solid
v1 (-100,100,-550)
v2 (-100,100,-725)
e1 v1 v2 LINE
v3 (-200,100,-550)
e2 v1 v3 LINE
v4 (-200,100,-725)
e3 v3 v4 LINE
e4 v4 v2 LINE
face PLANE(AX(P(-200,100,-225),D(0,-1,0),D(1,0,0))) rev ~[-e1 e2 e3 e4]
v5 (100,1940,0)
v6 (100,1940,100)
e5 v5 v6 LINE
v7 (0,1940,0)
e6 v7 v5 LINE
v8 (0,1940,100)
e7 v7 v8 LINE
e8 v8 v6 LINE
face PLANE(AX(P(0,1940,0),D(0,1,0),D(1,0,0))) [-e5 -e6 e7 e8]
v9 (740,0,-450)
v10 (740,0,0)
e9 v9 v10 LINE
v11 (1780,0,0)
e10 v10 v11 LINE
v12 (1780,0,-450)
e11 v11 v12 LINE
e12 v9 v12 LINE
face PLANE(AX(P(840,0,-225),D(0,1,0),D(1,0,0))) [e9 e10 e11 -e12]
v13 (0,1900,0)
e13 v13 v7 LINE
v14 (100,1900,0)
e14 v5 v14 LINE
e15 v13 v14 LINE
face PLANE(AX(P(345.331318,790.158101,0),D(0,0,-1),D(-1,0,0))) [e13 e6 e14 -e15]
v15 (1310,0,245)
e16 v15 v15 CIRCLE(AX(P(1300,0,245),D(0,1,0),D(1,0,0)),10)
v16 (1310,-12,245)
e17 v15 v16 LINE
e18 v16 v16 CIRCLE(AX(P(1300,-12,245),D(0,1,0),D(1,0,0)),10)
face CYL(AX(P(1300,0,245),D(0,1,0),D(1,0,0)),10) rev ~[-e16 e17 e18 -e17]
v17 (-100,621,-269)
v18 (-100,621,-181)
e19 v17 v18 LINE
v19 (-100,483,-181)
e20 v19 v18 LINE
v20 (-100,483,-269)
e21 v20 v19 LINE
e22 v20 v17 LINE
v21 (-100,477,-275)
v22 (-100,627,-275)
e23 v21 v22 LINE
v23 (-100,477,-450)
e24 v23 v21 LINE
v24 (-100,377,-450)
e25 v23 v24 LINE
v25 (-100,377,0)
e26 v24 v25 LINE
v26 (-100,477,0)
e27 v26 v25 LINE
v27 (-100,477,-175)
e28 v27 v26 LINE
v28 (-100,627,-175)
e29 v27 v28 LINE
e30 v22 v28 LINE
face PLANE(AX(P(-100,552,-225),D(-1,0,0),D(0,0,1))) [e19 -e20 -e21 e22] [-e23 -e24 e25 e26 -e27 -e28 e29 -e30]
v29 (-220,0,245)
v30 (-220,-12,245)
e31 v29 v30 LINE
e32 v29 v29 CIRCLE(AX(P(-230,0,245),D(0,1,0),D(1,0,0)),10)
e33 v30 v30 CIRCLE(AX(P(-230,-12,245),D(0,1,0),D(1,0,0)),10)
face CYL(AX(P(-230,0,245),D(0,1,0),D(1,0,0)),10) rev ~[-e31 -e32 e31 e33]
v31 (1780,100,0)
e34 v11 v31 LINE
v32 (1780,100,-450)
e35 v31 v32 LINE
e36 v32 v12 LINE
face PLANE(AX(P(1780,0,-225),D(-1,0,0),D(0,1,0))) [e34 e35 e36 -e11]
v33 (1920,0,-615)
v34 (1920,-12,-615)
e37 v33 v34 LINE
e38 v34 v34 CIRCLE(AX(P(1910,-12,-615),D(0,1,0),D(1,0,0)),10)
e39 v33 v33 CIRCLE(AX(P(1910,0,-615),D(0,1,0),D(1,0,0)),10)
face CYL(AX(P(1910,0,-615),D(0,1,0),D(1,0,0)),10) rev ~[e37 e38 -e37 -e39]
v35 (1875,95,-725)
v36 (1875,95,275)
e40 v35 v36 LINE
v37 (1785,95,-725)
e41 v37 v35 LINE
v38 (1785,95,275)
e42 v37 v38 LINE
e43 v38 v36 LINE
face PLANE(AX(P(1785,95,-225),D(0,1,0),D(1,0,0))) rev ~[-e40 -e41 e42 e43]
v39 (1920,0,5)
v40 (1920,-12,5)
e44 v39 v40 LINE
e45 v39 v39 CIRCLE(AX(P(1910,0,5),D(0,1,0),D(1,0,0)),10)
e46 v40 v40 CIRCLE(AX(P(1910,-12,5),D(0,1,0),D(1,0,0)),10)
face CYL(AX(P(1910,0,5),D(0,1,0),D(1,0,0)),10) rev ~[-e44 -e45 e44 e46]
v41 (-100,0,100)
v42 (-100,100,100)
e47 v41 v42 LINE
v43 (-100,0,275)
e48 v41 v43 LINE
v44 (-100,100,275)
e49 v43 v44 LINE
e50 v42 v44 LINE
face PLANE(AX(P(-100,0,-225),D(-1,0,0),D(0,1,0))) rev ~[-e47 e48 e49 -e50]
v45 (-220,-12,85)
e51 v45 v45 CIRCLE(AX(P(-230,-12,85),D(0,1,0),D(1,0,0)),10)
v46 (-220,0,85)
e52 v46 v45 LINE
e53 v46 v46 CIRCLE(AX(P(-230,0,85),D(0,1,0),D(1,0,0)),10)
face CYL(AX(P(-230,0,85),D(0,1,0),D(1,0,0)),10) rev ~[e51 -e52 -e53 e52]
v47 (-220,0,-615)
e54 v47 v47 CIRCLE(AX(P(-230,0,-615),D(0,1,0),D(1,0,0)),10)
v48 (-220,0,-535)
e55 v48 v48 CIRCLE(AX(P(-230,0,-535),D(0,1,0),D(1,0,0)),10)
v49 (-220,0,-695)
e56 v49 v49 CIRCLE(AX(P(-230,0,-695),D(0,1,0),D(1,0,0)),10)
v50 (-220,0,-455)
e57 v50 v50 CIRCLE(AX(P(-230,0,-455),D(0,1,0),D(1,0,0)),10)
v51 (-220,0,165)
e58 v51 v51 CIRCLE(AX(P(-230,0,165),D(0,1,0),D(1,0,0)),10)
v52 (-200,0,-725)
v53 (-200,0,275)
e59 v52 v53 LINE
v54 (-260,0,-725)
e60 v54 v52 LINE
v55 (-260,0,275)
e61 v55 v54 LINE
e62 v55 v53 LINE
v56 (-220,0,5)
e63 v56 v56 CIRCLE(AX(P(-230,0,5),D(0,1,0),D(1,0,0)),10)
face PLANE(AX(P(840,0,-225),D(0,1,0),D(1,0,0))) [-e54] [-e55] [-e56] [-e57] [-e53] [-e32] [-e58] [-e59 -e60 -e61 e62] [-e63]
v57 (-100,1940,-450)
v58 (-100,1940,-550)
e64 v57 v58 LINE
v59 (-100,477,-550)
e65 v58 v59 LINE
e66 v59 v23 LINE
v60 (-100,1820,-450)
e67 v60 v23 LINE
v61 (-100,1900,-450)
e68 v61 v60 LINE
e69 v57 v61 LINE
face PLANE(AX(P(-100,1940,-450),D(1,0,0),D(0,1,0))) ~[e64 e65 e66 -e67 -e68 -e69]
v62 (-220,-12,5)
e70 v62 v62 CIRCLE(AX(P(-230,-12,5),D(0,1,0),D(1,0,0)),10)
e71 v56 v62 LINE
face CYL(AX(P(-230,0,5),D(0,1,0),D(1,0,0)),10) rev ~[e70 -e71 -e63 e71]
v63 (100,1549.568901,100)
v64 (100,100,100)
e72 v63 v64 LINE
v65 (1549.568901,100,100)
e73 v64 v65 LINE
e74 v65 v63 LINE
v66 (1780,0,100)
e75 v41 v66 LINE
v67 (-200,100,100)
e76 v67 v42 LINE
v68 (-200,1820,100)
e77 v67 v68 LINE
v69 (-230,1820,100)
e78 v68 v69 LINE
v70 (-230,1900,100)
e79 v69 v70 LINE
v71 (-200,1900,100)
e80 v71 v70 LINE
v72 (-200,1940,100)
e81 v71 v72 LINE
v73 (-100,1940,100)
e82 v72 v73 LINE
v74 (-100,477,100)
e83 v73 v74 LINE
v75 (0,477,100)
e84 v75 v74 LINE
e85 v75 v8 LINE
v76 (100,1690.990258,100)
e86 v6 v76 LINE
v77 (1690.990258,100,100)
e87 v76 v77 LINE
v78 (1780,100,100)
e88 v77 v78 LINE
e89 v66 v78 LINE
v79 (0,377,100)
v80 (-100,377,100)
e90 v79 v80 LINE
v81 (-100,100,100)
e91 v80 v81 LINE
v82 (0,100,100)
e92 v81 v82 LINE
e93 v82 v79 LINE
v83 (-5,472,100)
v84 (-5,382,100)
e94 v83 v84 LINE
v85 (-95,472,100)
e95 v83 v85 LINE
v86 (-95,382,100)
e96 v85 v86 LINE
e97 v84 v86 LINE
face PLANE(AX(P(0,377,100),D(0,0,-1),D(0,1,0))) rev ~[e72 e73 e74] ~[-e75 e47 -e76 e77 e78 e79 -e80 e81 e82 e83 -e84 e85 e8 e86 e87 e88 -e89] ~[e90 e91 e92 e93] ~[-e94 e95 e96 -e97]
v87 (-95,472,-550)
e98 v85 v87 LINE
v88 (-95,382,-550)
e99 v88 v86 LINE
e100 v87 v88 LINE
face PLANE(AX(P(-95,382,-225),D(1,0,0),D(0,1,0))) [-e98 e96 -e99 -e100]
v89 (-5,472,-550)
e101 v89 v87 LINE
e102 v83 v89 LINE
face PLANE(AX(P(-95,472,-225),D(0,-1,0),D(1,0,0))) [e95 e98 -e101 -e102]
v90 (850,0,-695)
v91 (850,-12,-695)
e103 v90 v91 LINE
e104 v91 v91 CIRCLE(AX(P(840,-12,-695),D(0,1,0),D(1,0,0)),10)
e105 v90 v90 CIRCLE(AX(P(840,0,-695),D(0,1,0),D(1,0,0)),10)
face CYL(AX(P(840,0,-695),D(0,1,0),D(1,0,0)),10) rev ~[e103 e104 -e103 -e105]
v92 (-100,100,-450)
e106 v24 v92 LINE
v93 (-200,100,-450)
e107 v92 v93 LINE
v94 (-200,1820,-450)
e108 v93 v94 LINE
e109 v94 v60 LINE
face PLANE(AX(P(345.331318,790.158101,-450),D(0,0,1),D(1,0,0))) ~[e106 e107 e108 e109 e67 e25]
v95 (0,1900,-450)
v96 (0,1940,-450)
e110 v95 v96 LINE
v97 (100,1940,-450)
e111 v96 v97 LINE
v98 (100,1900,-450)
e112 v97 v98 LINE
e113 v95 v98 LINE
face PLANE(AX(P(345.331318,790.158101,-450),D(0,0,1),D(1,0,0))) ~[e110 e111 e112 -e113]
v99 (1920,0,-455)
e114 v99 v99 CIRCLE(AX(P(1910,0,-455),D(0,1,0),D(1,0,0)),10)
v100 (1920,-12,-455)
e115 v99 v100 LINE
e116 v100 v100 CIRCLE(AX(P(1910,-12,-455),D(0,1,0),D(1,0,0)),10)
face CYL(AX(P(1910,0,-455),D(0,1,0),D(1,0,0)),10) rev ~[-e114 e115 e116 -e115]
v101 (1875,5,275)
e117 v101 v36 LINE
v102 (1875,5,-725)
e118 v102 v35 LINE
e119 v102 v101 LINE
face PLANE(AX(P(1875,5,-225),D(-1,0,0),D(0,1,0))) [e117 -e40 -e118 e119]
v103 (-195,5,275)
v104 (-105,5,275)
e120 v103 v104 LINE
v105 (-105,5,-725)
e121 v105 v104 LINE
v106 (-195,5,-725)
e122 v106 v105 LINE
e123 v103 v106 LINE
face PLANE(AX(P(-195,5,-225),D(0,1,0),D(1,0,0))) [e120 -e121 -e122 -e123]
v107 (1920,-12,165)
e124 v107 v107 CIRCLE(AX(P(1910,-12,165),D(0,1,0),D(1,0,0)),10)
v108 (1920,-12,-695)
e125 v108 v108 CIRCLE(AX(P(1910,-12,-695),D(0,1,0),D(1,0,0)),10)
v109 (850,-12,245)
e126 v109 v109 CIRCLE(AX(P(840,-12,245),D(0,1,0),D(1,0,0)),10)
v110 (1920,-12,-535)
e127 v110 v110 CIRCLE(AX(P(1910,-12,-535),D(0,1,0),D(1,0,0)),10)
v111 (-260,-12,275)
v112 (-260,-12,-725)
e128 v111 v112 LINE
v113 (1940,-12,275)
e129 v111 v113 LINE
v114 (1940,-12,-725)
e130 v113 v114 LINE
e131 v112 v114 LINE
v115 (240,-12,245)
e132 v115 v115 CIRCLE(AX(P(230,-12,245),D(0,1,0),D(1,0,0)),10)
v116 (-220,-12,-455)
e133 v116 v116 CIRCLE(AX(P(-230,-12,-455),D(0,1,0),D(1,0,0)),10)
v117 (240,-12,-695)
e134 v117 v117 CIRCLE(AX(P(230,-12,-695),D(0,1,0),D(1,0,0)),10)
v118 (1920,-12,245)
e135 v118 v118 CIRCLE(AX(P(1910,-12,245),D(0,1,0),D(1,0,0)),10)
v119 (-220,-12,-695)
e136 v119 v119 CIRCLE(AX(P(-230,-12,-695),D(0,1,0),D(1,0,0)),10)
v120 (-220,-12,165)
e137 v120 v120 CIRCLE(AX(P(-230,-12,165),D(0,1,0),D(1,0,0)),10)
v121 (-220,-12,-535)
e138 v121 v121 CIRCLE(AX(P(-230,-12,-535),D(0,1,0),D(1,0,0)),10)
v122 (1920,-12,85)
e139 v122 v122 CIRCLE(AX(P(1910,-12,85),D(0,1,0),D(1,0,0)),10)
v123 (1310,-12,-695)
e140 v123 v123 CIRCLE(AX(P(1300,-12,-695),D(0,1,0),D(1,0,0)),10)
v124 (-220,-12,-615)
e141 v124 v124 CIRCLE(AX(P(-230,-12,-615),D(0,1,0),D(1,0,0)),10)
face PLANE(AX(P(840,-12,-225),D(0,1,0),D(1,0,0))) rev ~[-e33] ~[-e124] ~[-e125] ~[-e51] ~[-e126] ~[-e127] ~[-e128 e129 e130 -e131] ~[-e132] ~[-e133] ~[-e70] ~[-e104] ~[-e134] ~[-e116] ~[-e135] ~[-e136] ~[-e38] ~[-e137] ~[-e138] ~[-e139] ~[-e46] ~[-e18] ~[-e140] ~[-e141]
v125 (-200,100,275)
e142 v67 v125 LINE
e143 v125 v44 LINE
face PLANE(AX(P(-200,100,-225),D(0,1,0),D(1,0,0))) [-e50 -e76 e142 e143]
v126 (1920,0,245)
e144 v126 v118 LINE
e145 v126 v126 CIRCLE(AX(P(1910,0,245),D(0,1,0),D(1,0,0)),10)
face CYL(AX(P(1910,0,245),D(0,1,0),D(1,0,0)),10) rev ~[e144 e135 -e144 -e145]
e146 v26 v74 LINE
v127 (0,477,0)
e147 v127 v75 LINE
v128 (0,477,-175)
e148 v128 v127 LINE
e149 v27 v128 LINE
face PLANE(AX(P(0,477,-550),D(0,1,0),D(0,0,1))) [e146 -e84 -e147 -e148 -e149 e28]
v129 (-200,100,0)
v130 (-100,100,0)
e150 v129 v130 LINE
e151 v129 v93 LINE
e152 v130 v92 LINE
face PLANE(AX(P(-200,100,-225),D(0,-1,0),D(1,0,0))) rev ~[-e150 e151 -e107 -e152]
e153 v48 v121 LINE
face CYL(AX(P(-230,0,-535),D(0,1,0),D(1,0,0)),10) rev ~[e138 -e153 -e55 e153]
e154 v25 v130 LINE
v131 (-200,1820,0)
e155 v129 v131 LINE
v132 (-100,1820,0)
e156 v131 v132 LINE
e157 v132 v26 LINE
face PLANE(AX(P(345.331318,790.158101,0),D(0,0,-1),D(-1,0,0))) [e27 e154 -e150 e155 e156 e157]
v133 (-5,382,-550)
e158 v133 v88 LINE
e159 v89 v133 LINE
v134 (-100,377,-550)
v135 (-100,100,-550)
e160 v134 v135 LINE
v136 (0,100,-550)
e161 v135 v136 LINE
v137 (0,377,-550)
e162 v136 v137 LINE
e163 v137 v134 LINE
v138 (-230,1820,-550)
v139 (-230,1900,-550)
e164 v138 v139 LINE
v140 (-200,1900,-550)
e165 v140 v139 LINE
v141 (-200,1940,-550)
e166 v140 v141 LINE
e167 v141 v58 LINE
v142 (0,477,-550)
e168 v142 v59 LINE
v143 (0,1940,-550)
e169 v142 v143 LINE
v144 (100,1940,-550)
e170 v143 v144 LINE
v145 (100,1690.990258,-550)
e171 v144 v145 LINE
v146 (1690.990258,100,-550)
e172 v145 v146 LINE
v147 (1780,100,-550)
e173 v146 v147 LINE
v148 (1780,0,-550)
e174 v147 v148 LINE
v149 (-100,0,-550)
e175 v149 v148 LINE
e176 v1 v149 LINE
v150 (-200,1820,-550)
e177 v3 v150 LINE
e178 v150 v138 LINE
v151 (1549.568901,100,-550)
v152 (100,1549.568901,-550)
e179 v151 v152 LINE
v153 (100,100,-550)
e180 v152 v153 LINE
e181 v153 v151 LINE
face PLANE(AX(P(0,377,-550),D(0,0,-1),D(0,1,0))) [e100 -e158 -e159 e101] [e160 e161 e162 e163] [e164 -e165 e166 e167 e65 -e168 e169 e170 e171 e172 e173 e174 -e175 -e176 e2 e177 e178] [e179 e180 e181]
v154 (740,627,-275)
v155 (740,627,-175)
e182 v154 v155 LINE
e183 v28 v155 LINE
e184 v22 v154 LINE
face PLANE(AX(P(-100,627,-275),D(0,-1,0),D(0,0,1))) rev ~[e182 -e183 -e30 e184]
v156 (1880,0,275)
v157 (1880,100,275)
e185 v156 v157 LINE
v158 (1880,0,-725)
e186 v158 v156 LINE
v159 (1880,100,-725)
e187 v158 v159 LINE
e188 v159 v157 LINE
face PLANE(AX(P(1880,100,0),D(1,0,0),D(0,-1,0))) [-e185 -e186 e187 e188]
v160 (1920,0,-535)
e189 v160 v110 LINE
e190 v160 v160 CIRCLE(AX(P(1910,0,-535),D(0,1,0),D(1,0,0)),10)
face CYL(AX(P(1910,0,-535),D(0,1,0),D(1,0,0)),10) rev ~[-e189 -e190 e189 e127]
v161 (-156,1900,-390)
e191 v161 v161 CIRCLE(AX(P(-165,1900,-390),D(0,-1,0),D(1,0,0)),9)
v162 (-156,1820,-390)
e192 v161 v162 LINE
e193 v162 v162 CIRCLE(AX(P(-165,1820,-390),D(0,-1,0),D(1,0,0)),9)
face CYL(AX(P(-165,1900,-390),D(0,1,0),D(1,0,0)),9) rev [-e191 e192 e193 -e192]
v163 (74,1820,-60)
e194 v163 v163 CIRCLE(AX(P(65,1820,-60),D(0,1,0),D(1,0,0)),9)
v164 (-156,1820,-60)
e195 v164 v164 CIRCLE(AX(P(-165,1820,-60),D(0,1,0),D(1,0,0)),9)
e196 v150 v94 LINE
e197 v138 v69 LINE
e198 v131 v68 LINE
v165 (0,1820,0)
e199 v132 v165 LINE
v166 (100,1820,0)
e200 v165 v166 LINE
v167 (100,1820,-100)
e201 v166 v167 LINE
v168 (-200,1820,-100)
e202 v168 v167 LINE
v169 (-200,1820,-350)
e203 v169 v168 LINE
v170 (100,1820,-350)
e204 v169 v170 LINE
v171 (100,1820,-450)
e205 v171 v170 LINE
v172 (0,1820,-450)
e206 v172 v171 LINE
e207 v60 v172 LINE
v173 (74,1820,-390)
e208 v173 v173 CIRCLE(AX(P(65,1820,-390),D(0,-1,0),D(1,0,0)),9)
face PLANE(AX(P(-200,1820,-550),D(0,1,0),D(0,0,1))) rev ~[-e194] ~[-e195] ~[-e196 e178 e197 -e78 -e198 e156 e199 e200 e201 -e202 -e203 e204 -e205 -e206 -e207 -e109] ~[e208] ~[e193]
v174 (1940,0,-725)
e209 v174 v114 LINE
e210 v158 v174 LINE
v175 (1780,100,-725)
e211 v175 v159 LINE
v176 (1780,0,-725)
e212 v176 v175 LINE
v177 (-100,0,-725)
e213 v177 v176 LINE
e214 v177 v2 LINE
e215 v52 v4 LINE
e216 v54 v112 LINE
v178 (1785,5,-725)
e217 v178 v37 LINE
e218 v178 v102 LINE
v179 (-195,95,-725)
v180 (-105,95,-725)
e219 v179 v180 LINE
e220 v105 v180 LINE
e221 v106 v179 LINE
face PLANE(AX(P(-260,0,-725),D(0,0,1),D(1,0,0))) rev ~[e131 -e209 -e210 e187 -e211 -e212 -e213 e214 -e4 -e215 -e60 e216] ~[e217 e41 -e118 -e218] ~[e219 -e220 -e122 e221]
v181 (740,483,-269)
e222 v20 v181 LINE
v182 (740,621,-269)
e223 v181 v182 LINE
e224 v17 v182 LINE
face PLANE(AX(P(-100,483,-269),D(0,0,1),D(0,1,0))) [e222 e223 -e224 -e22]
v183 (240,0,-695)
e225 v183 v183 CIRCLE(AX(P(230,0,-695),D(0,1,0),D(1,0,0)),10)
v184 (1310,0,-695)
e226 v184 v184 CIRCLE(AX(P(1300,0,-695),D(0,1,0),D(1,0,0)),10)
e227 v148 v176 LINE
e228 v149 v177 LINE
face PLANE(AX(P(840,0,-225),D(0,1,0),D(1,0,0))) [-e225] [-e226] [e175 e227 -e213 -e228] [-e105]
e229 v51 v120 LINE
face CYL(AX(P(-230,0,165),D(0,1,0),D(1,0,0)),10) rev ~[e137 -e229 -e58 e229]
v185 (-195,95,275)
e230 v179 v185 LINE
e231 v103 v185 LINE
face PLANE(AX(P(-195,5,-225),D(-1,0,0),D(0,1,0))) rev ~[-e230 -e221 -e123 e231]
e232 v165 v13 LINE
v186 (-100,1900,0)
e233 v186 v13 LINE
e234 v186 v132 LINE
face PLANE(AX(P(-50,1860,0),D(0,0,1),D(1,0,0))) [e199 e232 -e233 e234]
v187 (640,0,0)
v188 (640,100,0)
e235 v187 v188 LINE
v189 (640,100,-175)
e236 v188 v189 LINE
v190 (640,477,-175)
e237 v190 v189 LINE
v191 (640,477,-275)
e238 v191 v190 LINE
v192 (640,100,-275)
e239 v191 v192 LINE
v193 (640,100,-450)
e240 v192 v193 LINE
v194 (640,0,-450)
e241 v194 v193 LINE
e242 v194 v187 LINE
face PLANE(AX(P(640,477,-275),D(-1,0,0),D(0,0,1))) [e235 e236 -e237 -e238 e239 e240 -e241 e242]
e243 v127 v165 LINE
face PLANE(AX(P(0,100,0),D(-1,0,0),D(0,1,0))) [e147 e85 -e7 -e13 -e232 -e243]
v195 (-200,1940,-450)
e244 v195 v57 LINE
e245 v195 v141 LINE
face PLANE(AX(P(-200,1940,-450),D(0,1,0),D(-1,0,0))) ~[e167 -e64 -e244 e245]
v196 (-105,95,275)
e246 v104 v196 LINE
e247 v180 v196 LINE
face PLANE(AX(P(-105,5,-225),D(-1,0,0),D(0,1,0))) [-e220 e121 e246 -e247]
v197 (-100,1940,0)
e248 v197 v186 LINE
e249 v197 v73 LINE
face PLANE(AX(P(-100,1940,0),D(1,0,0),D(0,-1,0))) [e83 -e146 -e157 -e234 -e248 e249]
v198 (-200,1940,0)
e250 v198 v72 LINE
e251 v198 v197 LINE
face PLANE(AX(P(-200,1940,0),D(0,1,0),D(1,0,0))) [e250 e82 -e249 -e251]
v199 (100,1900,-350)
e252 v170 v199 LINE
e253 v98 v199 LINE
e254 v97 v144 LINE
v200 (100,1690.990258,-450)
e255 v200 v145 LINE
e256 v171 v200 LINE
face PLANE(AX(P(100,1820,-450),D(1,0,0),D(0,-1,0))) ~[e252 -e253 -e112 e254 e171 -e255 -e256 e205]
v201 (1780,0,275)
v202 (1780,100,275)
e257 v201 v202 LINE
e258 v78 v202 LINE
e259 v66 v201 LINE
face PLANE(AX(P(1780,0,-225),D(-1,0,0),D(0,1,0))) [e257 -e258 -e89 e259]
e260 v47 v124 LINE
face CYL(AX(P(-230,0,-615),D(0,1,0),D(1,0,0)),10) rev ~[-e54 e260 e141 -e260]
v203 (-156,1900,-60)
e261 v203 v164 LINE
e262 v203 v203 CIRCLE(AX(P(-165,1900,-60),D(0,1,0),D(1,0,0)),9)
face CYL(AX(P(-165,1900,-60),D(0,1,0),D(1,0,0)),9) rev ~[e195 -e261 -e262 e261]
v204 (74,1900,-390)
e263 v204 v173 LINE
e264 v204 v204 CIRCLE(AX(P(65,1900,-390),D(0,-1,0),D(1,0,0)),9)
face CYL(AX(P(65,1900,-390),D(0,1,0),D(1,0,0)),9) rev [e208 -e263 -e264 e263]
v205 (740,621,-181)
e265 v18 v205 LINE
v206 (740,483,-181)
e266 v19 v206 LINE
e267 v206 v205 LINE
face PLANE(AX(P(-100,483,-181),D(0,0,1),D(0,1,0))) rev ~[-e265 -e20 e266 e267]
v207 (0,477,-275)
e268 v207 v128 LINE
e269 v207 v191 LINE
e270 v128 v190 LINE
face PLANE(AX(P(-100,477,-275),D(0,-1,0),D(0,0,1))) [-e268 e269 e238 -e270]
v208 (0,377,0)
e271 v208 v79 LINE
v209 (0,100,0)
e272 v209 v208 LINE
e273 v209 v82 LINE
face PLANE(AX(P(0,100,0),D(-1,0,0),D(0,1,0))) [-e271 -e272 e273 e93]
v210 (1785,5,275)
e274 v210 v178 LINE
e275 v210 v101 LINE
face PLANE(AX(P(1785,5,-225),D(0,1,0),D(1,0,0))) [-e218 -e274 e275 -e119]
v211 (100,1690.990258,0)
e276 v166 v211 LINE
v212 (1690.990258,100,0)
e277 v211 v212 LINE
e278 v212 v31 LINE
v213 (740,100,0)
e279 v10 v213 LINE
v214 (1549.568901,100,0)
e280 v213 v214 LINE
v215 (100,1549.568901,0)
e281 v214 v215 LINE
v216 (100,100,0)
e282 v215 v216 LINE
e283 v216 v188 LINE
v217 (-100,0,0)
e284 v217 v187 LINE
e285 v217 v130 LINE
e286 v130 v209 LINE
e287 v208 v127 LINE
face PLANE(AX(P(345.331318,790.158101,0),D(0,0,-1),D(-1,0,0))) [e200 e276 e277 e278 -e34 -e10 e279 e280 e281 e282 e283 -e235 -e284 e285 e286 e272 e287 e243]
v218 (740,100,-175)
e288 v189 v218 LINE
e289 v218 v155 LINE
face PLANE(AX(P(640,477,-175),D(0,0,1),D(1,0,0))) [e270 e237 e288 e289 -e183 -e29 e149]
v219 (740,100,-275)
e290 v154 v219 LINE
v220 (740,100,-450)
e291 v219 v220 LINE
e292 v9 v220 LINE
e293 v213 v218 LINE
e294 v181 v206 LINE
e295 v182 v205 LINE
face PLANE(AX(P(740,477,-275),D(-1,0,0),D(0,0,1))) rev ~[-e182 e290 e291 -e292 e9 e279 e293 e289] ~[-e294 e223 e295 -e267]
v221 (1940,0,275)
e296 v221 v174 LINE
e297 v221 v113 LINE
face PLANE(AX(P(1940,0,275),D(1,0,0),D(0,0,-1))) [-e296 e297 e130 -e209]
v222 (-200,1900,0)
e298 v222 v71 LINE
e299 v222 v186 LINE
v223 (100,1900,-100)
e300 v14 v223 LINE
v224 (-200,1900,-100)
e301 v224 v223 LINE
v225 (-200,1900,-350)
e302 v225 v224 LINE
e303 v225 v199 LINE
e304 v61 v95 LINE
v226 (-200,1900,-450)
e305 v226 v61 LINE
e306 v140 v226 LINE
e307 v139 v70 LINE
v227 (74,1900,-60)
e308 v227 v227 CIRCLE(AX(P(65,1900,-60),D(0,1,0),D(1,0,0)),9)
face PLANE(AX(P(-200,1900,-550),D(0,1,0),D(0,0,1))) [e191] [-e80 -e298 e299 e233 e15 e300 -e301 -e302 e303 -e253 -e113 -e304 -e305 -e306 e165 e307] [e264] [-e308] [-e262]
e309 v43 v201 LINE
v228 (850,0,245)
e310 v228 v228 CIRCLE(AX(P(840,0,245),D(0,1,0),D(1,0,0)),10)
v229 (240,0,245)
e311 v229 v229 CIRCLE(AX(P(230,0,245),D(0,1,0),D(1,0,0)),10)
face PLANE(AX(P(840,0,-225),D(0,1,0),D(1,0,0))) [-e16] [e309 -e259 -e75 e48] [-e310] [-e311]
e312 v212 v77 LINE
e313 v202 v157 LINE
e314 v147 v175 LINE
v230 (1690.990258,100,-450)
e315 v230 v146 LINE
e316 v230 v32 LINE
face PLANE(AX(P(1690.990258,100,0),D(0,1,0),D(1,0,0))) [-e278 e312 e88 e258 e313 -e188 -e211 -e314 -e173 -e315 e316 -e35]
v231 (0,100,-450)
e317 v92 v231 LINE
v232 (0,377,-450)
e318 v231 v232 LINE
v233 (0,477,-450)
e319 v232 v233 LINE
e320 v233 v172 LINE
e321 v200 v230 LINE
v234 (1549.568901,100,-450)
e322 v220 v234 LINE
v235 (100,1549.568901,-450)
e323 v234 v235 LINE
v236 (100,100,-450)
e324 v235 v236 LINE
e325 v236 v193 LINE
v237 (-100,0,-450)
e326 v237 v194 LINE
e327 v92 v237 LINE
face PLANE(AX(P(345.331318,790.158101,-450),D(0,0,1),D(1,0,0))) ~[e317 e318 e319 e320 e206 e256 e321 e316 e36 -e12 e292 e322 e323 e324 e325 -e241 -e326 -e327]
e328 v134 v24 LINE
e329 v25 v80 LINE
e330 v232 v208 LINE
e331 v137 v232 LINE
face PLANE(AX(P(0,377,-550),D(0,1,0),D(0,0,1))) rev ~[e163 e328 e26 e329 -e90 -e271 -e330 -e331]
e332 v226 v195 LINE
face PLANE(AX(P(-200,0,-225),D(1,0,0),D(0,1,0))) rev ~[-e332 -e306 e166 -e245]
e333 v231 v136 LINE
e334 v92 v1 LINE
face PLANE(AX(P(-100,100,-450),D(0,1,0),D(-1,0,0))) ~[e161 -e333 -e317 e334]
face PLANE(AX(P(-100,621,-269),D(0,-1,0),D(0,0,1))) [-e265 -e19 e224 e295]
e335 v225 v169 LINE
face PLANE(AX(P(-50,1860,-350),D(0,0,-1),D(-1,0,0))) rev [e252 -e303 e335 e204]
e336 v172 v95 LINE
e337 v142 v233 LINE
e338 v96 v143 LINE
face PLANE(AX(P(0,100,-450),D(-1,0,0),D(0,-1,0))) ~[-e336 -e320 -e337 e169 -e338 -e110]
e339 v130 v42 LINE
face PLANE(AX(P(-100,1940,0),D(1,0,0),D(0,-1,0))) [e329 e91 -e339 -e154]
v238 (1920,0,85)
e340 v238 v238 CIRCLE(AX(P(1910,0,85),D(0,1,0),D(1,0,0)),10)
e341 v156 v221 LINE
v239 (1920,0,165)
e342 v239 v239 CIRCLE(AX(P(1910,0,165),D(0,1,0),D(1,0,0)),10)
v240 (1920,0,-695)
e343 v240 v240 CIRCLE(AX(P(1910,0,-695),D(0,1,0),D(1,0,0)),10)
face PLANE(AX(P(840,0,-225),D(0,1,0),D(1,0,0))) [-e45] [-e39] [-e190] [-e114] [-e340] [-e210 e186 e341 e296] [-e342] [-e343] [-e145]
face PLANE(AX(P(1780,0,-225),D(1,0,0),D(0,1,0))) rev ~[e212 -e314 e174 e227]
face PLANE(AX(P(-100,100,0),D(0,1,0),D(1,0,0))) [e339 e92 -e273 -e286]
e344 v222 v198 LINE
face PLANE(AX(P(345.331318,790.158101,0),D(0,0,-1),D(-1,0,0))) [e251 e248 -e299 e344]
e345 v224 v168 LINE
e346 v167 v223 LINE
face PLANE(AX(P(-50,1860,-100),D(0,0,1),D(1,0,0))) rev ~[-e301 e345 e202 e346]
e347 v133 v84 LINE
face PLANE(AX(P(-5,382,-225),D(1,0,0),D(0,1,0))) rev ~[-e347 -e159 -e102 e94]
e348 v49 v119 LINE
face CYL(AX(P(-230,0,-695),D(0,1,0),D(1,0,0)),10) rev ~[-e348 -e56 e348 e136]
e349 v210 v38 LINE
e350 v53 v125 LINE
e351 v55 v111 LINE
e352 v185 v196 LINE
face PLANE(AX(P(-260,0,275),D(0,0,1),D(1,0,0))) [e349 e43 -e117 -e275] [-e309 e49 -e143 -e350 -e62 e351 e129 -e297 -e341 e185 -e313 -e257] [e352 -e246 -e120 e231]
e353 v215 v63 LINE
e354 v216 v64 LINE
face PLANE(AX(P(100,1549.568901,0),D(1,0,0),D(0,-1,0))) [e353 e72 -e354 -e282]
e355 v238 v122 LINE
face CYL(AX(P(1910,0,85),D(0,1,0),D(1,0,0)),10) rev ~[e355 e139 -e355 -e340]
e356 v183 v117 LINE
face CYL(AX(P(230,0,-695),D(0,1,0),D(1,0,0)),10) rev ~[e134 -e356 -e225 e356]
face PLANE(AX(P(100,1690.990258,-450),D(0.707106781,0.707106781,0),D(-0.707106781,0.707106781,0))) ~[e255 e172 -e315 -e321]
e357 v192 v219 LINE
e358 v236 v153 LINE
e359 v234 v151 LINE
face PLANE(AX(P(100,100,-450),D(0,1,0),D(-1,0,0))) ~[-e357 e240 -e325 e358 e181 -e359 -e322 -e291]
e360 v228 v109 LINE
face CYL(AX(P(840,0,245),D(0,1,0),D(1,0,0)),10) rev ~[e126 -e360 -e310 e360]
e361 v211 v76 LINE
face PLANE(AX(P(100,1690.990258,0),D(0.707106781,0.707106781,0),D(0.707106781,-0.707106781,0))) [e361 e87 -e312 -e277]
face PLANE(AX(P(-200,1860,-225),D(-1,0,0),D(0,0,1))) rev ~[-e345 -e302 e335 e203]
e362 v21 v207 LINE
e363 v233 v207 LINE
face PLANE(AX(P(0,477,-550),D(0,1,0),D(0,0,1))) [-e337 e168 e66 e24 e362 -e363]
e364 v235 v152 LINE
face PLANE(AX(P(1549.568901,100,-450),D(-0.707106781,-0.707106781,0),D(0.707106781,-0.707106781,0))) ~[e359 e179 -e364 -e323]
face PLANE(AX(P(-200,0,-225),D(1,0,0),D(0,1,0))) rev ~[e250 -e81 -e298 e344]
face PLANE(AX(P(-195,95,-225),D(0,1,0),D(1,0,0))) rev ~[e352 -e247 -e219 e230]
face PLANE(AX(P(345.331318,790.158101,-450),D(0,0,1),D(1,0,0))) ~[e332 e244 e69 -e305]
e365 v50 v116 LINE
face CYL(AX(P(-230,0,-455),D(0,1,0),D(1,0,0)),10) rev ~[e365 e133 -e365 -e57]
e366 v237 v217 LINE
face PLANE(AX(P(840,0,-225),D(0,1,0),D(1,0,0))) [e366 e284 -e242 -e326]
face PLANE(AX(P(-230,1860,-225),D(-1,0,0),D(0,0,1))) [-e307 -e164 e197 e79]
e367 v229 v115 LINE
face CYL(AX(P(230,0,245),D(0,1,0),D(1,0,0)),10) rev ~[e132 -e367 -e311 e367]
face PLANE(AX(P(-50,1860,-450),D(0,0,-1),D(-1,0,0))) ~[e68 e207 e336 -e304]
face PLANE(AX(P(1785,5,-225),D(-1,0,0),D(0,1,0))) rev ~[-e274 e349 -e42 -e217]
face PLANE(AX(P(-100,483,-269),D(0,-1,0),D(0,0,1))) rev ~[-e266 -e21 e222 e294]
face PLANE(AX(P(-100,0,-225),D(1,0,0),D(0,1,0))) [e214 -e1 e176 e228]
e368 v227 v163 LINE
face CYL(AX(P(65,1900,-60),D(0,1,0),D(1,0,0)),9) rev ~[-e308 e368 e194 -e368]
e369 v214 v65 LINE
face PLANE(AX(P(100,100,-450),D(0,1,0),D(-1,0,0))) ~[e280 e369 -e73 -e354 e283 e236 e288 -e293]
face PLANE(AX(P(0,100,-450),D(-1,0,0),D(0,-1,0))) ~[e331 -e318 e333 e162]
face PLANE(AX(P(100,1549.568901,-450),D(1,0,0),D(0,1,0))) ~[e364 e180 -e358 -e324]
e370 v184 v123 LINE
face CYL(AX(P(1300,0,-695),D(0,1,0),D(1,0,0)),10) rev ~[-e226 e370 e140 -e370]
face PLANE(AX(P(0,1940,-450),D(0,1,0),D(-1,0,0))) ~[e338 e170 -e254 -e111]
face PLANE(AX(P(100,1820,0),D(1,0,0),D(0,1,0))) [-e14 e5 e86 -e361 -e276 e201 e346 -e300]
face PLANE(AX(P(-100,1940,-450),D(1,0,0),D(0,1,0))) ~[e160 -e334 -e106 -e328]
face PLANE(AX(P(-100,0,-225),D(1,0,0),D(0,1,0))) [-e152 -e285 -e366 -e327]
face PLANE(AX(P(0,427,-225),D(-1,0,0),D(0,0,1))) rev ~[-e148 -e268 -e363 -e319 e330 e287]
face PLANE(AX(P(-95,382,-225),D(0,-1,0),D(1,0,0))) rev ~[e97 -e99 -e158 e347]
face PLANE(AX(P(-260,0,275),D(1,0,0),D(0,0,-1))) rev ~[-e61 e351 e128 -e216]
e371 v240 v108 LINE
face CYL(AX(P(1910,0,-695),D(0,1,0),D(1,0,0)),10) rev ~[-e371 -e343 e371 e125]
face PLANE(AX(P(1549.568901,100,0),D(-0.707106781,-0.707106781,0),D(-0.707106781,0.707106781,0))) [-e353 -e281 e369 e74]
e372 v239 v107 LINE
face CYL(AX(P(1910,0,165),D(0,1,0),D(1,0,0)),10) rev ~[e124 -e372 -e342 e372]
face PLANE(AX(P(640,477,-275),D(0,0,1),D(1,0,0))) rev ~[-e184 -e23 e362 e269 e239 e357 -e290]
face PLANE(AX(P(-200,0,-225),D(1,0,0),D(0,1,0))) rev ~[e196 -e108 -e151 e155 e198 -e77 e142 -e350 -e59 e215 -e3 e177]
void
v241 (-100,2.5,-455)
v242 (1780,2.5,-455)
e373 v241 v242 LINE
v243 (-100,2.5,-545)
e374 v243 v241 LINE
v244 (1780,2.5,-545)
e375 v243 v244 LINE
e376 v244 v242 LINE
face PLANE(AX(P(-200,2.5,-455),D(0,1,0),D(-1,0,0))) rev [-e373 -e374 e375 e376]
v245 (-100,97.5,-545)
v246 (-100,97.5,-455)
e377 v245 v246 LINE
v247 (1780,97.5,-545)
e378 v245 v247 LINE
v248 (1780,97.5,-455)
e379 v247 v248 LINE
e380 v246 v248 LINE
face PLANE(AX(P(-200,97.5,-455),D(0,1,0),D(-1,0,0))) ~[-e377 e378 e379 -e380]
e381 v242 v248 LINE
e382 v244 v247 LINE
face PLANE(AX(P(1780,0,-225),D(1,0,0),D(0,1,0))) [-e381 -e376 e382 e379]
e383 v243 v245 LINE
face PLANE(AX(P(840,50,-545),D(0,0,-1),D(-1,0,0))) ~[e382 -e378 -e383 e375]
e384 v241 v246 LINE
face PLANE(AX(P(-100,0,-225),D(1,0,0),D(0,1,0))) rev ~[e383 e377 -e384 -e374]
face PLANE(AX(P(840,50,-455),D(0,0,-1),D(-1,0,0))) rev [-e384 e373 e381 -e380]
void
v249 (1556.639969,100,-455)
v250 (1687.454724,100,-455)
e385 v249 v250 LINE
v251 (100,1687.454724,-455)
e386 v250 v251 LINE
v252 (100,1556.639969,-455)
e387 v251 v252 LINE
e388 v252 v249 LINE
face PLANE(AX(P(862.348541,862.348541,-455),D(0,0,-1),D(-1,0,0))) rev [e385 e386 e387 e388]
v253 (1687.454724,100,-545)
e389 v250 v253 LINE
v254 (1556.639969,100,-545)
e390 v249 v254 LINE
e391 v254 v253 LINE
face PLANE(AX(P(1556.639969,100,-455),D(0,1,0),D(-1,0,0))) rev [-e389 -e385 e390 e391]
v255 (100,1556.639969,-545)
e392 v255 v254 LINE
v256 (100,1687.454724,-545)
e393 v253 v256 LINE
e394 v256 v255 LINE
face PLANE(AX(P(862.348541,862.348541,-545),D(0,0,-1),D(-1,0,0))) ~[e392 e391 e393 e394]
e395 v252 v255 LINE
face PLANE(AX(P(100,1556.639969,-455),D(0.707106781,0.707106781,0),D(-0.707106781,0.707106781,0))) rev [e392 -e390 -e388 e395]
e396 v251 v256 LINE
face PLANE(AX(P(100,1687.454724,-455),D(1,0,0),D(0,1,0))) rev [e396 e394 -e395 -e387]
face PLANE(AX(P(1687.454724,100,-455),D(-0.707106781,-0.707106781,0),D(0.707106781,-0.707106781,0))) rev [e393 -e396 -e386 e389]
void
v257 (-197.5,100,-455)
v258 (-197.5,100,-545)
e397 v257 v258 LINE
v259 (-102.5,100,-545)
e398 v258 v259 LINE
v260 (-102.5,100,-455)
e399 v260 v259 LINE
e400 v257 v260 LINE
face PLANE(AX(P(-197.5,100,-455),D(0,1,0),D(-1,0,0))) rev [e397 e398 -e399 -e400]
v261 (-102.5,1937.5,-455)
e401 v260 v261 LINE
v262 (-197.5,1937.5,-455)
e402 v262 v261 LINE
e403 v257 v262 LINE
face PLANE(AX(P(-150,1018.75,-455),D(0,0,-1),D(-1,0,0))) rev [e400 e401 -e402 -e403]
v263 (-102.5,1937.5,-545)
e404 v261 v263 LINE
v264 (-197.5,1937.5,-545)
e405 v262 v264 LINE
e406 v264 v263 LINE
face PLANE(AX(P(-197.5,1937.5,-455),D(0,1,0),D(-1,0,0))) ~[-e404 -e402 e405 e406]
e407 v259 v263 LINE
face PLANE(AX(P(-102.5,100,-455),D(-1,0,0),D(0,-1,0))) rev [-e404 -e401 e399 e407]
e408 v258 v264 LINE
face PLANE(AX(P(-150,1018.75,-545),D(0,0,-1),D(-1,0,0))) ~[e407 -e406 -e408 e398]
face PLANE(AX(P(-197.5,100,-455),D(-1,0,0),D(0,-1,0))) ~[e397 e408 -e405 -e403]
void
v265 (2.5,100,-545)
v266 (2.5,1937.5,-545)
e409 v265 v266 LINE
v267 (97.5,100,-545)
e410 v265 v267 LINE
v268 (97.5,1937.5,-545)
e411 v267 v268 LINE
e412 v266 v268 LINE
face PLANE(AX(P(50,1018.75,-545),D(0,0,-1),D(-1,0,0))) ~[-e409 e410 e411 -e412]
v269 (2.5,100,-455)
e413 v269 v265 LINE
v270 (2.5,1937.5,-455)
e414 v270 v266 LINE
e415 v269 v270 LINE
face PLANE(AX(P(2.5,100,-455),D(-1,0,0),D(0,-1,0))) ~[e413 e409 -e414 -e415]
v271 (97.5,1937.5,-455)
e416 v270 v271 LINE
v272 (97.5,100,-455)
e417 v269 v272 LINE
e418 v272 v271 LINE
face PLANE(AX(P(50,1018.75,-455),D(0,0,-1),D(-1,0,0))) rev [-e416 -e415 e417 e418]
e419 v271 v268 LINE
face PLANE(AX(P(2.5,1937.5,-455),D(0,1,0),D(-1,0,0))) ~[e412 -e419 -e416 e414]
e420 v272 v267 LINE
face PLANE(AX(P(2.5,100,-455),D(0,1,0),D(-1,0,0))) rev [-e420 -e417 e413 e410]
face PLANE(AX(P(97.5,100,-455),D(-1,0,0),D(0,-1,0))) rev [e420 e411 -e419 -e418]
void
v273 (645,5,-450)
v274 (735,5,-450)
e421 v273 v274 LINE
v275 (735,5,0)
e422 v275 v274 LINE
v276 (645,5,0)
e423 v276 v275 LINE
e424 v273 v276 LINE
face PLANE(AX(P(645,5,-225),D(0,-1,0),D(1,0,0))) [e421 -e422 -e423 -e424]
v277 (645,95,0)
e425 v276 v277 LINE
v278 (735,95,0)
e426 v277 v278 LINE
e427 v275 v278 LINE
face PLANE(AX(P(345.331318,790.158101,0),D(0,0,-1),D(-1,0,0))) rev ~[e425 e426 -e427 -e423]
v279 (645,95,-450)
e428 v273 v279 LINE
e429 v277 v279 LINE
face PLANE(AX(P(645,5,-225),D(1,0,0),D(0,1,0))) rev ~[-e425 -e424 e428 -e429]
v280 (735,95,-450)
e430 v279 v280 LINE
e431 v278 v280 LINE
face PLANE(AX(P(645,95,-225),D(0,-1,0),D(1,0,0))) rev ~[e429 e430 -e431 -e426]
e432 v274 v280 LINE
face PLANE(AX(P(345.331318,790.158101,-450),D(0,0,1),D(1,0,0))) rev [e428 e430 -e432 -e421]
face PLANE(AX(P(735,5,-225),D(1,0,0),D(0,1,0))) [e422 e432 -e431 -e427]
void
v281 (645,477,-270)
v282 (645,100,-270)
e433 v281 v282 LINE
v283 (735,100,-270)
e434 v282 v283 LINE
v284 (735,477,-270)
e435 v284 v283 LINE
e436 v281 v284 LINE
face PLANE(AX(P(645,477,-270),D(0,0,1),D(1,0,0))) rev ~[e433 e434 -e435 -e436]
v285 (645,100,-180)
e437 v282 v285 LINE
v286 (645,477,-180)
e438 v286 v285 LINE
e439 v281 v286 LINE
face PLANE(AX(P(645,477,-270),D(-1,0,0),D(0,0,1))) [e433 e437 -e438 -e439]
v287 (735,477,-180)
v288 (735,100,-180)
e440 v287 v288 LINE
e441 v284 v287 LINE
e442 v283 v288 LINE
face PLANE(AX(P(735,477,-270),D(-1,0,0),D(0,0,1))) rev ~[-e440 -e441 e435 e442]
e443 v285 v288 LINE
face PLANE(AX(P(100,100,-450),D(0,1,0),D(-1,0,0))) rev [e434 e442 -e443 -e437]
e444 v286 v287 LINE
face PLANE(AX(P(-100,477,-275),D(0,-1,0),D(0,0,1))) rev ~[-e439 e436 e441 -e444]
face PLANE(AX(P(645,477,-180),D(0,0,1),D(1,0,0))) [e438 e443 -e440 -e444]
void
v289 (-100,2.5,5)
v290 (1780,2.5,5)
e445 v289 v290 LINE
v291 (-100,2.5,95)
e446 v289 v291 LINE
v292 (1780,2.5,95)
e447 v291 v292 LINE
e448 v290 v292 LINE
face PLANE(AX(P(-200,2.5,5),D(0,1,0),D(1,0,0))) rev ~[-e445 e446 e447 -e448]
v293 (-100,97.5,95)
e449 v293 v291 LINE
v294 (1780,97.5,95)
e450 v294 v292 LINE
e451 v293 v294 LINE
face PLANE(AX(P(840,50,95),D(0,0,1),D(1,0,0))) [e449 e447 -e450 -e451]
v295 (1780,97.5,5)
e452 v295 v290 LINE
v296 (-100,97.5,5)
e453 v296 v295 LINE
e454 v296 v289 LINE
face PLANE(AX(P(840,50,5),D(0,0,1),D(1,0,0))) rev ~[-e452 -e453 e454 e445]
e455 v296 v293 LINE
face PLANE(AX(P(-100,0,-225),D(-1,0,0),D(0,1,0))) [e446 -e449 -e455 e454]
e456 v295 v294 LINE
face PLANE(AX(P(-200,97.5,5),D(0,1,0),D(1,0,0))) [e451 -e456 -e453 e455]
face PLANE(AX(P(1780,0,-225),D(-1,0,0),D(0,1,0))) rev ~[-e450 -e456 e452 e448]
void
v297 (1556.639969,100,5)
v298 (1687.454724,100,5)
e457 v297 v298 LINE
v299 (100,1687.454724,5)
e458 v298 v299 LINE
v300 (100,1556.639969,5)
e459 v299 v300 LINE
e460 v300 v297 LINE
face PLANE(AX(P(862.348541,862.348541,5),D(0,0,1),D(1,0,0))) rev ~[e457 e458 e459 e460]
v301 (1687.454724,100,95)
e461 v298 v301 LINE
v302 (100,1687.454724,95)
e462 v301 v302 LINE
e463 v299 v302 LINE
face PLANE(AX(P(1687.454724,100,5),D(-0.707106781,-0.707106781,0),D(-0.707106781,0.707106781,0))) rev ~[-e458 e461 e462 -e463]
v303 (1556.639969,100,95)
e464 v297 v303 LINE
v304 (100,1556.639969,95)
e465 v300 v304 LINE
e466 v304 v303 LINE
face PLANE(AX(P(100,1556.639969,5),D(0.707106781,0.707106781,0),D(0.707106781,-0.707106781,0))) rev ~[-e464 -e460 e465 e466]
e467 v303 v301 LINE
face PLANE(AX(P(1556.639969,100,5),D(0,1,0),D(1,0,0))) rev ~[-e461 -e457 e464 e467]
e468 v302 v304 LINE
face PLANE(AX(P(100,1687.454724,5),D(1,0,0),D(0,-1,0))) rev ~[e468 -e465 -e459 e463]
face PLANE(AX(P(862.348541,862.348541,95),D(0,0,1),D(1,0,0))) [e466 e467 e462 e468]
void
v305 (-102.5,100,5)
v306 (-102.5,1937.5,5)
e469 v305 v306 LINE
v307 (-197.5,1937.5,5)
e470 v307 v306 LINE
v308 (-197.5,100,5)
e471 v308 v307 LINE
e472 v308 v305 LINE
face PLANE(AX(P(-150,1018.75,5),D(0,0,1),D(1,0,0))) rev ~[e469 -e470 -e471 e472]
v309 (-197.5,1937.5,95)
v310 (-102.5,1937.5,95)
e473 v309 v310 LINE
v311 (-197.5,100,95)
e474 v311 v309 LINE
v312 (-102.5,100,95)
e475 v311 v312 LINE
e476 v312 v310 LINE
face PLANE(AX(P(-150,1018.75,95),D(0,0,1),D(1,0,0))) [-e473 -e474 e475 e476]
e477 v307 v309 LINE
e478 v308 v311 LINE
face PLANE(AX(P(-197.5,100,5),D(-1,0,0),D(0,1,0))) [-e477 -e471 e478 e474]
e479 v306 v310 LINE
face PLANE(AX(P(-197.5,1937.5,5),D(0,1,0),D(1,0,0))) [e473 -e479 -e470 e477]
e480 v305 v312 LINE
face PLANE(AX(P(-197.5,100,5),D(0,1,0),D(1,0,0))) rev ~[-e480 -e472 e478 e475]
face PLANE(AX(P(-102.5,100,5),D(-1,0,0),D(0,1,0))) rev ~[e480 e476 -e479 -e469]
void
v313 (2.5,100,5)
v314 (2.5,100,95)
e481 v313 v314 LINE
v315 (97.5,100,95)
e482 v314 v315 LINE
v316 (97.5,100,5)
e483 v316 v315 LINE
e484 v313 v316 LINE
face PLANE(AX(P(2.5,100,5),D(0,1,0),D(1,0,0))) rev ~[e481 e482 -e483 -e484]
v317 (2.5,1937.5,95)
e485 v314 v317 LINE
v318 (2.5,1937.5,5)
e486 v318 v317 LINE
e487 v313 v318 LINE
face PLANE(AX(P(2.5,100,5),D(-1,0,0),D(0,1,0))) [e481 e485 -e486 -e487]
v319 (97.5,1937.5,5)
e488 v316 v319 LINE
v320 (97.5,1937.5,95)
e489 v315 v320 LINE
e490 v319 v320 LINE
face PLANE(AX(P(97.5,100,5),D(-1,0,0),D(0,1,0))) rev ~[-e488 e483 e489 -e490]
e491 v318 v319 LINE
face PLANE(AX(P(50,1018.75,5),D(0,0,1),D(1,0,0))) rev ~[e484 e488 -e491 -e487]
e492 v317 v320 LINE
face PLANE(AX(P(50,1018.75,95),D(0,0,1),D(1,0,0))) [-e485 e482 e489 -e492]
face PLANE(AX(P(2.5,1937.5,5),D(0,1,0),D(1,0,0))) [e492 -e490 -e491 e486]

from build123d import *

# Parameters (mm, degrees)
BOSS_EXTRUDE1_DEPTH      = 100
CUT_EXTRUDE3_START       = 5
SKETCH15_W               = 95
SKETCH15_H               = 1837.5
SKETCH15_W_2             = 2080
SKETCH15_H_2             = 95
CUT_EXTRUDE3_DEPTH       = 90
BOSS_EXTRUDE2_DEPTH      = 100
SKETCH2_R                = 9
CUT_EXTRUDE1_DEPTH       = 41
CUT_EXTRUDE1_DEPTH_BACK  = 1901
SKETCH5_W                = 100
SKETCH5_H                = 100
SKETCH5_W_2              = 90
SKETCH5_H_2              = 90
BOSS_EXTRUDE6_DEPTH      = 500
BOSS_EXTRUDE6_DEPTH_BACK = 500
SKETCH6_W                = 650
SKETCH6_H                = 80
BOSS_EXTRUDE7_DEPTH      = 30
SKETCH7_W                = 650
SKETCH7_H                = 100
BOSS_EXTRUDE8_DEPTH      = 100
SKETCH8_W                = 90
SKETCH8_H                = 90
CUT_EXTRUDE2_DEPTH       = 380
SKETCH11_W               = 2200
SKETCH11_H               = 1000
SKETCH11_R               = 10
BOSS_EXTRUDE10_DEPTH     = 12
SKETCH12_W               = 100
SKETCH12_H               = 150
SKETCH12_W_2             = 88
SKETCH12_H_2             = 138
BOSS_EXTRUDE11_DEPTH     = 840
SKETCH18_W               = 100
SKETCH18_H               = 100
SKETCH18_W_2             = 90
SKETCH18_H_2             = 90
BOSS_EXTRUDE13_DEPTH     = 225
SKETCH14_W               = 100
SKETCH14_H               = 100
SKETCH14_W_2             = 90
SKETCH14_H_2             = 90
BOSS_EXTRUDE12_DEPTH     = 377
SKETCH16_W               = 90
SKETCH16_H               = 90
CUT_EXTRUDE4_DEPTH       = 826
SKETCH17_W               = 90
SKETCH17_H               = 90
CUT_EXTRUDE5_DEPTH       = 826


with BuildPart() as part:
    # Base → Boss-Extrude1 (new body)
    with BuildSketch(Plane.XY):
        Polygon((0, 100), (0, 1940), (100, 1940), (100, 1690.99025767), (1690.99025767, 100), (1880, 100), (1880, 0), (100, 0), (0, 0), (-100, 0), (-200, 0), (-200, 1940), (-100, 1940), (-100, 100), align=None)
        Polygon((100, 1549.568901432), (100, 100), (1549.568901432, 100), align=None, mode=Mode.SUBTRACT)
    extrude(amount=BOSS_EXTRUDE1_DEPTH)

    # Sketch15 → Cut-Extrude3 (cut)
    with BuildSketch(Plane.XY.offset(CUT_EXTRUDE3_START)):
        Polygon((100, 1687.454723764), (100, 1556.639969244), (1556.639969244, 100), (1687.454723764, 100), align=None)
        with Locations((-150, 1018.75)):
            Rectangle(SKETCH15_W, SKETCH15_H)
        with Locations((50, 1018.75)):
            Rectangle(SKETCH15_W, SKETCH15_H)
        with Locations((840, 50)):
            Rectangle(SKETCH15_W_2, SKETCH15_H_2)
    extrude(amount=CUT_EXTRUDE3_DEPTH, mode=Mode.SUBTRACT)

    # Sketch1 → Boss-Extrude2 (add)
    with BuildSketch(Plane(origin=(0, 0, 0), x_dir=(-1, 0, 0), z_dir=(0, 0, -1))):
        Polygon((-100, 1900), (10.419601085, 1900), (200, 1900), (200, 1820), (-100, 1820), align=None)
    extrude(amount=BOSS_EXTRUDE2_DEPTH)

    # Sketch2 → Cut-Extrude1 (cut, two sides)
    with BuildSketch(Plane(origin=(0, 1900, 0), x_dir=(1, 0, 0), z_dir=(0, 1, 0))) as cut_extrude1_sk:
        with Locations((-165, 60)):
            Circle(SKETCH2_R)
        with Locations((65, 60)):
            Circle(SKETCH2_R)
    extrude(amount=CUT_EXTRUDE1_DEPTH, mode=Mode.SUBTRACT)
    extrude(cut_extrude1_sk.sketch, amount=-CUT_EXTRUDE1_DEPTH_BACK, mode=Mode.SUBTRACT)


with BuildPart() as body_2:
    # Mirror2: mirrored copy
    add(part.part.mirror(Plane.XY.offset(-225)))


with BuildPart() as part_1:
    add(part.part)

    add(body_2.part)  # Boss-Extrude6 merges body 2
    # Sketch5 → Boss-Extrude6 (add, two sides)
    with BuildSketch(Plane.XY.offset(-225)) as boss_extrude6_sk:
        with Locations((-150, 50)):
            Rectangle(SKETCH5_W, SKETCH5_H)
        with Locations((-150, 50)):
            Rectangle(SKETCH5_W_2, SKETCH5_H_2, mode=Mode.SUBTRACT)
        with Locations((1830, 50)):
            Rectangle(SKETCH5_W, SKETCH5_H)
        with Locations((1830, 50)):
            Rectangle(SKETCH5_W_2, SKETCH5_H_2, mode=Mode.SUBTRACT)
    extrude(amount=BOSS_EXTRUDE6_DEPTH)
    extrude(boss_extrude6_sk.sketch, amount=-BOSS_EXTRUDE6_DEPTH_BACK)

    # Sketch6 → Boss-Extrude7 (add)
    with BuildSketch(Plane.ZY.offset(200)):
        with Locations((-225, 1860)):
            Rectangle(SKETCH6_W, SKETCH6_H)
    extrude(amount=BOSS_EXTRUDE7_DEPTH)

    # Sketch7 → Boss-Extrude8 (add)
    with BuildSketch(Plane.ZY):
        with Locations((-225, 427)):
            Rectangle(SKETCH7_W, SKETCH7_H)
    extrude(amount=BOSS_EXTRUDE8_DEPTH)

    # Sketch8 → Cut-Extrude2 (cut, symmetric)
    with BuildSketch(Plane.XY.offset(-225)):
        with Locations((-50, 427)):
            Rectangle(SKETCH8_W, SKETCH8_H)
    extrude(amount=CUT_EXTRUDE2_DEPTH, both=True, mode=Mode.SUBTRACT)

    # Sketch11 → Boss-Extrude10 (add)
    with BuildSketch(Plane(origin=(0, 0, 0), x_dir=(1, 0, 0), z_dir=(0, 1, 0))):
        with Locations((840, 225)):
            Rectangle(SKETCH11_W, SKETCH11_H)
        with Locations((-230, 695)):
            Circle(SKETCH11_R, mode=Mode.SUBTRACT)
        with Locations((1910, 695)):
            Circle(SKETCH11_R, mode=Mode.SUBTRACT)
        with Locations((1910, 455)):
            Circle(SKETCH11_R, mode=Mode.SUBTRACT)
        with Locations((1910, 535)):
            Circle(SKETCH11_R, mode=Mode.SUBTRACT)
        with Locations((1910, 615)):
            Circle(SKETCH11_R, mode=Mode.SUBTRACT)
        with Locations((1300, 695)):
            Circle(SKETCH11_R, mode=Mode.SUBTRACT)
        with Locations((840, 695)):
            Circle(SKETCH11_R, mode=Mode.SUBTRACT)
        with Locations((230, 695)):
            Circle(SKETCH11_R, mode=Mode.SUBTRACT)
        with Locations((-230, 615)):
            Circle(SKETCH11_R, mode=Mode.SUBTRACT)
        with Locations((-230, 455)):
            Circle(SKETCH11_R, mode=Mode.SUBTRACT)
        with Locations((-230, 535)):
            Circle(SKETCH11_R, mode=Mode.SUBTRACT)
        with Locations((1910, -5)):
            Circle(SKETCH11_R, mode=Mode.SUBTRACT)
        with Locations((1910, -85)):
            Circle(SKETCH11_R, mode=Mode.SUBTRACT)
        with Locations((1910, -165)):
            Circle(SKETCH11_R, mode=Mode.SUBTRACT)
        with Locations((1910, -245)):
            Circle(SKETCH11_R, mode=Mode.SUBTRACT)
        with Locations((1300, -245)):
            Circle(SKETCH11_R, mode=Mode.SUBTRACT)
        with Locations((840, -245)):
            Circle(SKETCH11_R, mode=Mode.SUBTRACT)
        with Locations((230, -245)):
            Circle(SKETCH11_R, mode=Mode.SUBTRACT)
        with Locations((-230, -245)):
            Circle(SKETCH11_R, mode=Mode.SUBTRACT)
        with Locations((-230, -165)):
            Circle(SKETCH11_R, mode=Mode.SUBTRACT)
        with Locations((-230, -85)):
            Circle(SKETCH11_R, mode=Mode.SUBTRACT)
        with Locations((-230, -5)):
            Circle(SKETCH11_R, mode=Mode.SUBTRACT)
    extrude(amount=-BOSS_EXTRUDE10_DEPTH)

    # Sketch12 → Boss-Extrude11 (add)
    with BuildSketch(Plane.ZY.offset(100)):
        with Locations((-225, 552)):
            Rectangle(SKETCH12_W, SKETCH12_H)
        with Locations((-225, 552)):
            Rectangle(SKETCH12_W_2, SKETCH12_H_2, mode=Mode.SUBTRACT)
    extrude(amount=-BOSS_EXTRUDE11_DEPTH)

    # Sketch18 → Boss-Extrude13 (add, symmetric)
    with BuildSketch(Plane.XY.offset(-225)):
        with Locations((690, 50)):
            Rectangle(SKETCH18_W, SKETCH18_H)
        with Locations((690, 50)):
            Rectangle(SKETCH18_W_2, SKETCH18_H_2, mode=Mode.SUBTRACT)
    extrude(amount=BOSS_EXTRUDE13_DEPTH, both=True)

    # Sketch14 → Boss-Extrude12 (add)
    with BuildSketch(Plane.XZ.offset(-477)):
        with Locations((690, -225)):
            Rectangle(SKETCH14_W, SKETCH14_H)
        with Locations((690, -225)):
            Rectangle(SKETCH14_W_2, SKETCH14_H_2, mode=Mode.SUBTRACT)
    extrude(amount=BOSS_EXTRUDE12_DEPTH)

    # Sketch16 → Cut-Extrude4 (cut, through all)
    with BuildSketch(Plane.XY.offset(100)):
        with Locations((-150, 50)):
            Rectangle(SKETCH16_W, SKETCH16_H)
    extrude(amount=-CUT_EXTRUDE4_DEPTH, mode=Mode.SUBTRACT)

    # Sketch17 → Cut-Extrude5 (cut, through all)
    with BuildSketch(Plane.XY.offset(100)):
        with Locations((1830, 50)):
            Rectangle(SKETCH17_W, SKETCH17_H)
    extrude(amount=-CUT_EXTRUDE5_DEPTH, mode=Mode.SUBTRACT)


solid = part_1.part
